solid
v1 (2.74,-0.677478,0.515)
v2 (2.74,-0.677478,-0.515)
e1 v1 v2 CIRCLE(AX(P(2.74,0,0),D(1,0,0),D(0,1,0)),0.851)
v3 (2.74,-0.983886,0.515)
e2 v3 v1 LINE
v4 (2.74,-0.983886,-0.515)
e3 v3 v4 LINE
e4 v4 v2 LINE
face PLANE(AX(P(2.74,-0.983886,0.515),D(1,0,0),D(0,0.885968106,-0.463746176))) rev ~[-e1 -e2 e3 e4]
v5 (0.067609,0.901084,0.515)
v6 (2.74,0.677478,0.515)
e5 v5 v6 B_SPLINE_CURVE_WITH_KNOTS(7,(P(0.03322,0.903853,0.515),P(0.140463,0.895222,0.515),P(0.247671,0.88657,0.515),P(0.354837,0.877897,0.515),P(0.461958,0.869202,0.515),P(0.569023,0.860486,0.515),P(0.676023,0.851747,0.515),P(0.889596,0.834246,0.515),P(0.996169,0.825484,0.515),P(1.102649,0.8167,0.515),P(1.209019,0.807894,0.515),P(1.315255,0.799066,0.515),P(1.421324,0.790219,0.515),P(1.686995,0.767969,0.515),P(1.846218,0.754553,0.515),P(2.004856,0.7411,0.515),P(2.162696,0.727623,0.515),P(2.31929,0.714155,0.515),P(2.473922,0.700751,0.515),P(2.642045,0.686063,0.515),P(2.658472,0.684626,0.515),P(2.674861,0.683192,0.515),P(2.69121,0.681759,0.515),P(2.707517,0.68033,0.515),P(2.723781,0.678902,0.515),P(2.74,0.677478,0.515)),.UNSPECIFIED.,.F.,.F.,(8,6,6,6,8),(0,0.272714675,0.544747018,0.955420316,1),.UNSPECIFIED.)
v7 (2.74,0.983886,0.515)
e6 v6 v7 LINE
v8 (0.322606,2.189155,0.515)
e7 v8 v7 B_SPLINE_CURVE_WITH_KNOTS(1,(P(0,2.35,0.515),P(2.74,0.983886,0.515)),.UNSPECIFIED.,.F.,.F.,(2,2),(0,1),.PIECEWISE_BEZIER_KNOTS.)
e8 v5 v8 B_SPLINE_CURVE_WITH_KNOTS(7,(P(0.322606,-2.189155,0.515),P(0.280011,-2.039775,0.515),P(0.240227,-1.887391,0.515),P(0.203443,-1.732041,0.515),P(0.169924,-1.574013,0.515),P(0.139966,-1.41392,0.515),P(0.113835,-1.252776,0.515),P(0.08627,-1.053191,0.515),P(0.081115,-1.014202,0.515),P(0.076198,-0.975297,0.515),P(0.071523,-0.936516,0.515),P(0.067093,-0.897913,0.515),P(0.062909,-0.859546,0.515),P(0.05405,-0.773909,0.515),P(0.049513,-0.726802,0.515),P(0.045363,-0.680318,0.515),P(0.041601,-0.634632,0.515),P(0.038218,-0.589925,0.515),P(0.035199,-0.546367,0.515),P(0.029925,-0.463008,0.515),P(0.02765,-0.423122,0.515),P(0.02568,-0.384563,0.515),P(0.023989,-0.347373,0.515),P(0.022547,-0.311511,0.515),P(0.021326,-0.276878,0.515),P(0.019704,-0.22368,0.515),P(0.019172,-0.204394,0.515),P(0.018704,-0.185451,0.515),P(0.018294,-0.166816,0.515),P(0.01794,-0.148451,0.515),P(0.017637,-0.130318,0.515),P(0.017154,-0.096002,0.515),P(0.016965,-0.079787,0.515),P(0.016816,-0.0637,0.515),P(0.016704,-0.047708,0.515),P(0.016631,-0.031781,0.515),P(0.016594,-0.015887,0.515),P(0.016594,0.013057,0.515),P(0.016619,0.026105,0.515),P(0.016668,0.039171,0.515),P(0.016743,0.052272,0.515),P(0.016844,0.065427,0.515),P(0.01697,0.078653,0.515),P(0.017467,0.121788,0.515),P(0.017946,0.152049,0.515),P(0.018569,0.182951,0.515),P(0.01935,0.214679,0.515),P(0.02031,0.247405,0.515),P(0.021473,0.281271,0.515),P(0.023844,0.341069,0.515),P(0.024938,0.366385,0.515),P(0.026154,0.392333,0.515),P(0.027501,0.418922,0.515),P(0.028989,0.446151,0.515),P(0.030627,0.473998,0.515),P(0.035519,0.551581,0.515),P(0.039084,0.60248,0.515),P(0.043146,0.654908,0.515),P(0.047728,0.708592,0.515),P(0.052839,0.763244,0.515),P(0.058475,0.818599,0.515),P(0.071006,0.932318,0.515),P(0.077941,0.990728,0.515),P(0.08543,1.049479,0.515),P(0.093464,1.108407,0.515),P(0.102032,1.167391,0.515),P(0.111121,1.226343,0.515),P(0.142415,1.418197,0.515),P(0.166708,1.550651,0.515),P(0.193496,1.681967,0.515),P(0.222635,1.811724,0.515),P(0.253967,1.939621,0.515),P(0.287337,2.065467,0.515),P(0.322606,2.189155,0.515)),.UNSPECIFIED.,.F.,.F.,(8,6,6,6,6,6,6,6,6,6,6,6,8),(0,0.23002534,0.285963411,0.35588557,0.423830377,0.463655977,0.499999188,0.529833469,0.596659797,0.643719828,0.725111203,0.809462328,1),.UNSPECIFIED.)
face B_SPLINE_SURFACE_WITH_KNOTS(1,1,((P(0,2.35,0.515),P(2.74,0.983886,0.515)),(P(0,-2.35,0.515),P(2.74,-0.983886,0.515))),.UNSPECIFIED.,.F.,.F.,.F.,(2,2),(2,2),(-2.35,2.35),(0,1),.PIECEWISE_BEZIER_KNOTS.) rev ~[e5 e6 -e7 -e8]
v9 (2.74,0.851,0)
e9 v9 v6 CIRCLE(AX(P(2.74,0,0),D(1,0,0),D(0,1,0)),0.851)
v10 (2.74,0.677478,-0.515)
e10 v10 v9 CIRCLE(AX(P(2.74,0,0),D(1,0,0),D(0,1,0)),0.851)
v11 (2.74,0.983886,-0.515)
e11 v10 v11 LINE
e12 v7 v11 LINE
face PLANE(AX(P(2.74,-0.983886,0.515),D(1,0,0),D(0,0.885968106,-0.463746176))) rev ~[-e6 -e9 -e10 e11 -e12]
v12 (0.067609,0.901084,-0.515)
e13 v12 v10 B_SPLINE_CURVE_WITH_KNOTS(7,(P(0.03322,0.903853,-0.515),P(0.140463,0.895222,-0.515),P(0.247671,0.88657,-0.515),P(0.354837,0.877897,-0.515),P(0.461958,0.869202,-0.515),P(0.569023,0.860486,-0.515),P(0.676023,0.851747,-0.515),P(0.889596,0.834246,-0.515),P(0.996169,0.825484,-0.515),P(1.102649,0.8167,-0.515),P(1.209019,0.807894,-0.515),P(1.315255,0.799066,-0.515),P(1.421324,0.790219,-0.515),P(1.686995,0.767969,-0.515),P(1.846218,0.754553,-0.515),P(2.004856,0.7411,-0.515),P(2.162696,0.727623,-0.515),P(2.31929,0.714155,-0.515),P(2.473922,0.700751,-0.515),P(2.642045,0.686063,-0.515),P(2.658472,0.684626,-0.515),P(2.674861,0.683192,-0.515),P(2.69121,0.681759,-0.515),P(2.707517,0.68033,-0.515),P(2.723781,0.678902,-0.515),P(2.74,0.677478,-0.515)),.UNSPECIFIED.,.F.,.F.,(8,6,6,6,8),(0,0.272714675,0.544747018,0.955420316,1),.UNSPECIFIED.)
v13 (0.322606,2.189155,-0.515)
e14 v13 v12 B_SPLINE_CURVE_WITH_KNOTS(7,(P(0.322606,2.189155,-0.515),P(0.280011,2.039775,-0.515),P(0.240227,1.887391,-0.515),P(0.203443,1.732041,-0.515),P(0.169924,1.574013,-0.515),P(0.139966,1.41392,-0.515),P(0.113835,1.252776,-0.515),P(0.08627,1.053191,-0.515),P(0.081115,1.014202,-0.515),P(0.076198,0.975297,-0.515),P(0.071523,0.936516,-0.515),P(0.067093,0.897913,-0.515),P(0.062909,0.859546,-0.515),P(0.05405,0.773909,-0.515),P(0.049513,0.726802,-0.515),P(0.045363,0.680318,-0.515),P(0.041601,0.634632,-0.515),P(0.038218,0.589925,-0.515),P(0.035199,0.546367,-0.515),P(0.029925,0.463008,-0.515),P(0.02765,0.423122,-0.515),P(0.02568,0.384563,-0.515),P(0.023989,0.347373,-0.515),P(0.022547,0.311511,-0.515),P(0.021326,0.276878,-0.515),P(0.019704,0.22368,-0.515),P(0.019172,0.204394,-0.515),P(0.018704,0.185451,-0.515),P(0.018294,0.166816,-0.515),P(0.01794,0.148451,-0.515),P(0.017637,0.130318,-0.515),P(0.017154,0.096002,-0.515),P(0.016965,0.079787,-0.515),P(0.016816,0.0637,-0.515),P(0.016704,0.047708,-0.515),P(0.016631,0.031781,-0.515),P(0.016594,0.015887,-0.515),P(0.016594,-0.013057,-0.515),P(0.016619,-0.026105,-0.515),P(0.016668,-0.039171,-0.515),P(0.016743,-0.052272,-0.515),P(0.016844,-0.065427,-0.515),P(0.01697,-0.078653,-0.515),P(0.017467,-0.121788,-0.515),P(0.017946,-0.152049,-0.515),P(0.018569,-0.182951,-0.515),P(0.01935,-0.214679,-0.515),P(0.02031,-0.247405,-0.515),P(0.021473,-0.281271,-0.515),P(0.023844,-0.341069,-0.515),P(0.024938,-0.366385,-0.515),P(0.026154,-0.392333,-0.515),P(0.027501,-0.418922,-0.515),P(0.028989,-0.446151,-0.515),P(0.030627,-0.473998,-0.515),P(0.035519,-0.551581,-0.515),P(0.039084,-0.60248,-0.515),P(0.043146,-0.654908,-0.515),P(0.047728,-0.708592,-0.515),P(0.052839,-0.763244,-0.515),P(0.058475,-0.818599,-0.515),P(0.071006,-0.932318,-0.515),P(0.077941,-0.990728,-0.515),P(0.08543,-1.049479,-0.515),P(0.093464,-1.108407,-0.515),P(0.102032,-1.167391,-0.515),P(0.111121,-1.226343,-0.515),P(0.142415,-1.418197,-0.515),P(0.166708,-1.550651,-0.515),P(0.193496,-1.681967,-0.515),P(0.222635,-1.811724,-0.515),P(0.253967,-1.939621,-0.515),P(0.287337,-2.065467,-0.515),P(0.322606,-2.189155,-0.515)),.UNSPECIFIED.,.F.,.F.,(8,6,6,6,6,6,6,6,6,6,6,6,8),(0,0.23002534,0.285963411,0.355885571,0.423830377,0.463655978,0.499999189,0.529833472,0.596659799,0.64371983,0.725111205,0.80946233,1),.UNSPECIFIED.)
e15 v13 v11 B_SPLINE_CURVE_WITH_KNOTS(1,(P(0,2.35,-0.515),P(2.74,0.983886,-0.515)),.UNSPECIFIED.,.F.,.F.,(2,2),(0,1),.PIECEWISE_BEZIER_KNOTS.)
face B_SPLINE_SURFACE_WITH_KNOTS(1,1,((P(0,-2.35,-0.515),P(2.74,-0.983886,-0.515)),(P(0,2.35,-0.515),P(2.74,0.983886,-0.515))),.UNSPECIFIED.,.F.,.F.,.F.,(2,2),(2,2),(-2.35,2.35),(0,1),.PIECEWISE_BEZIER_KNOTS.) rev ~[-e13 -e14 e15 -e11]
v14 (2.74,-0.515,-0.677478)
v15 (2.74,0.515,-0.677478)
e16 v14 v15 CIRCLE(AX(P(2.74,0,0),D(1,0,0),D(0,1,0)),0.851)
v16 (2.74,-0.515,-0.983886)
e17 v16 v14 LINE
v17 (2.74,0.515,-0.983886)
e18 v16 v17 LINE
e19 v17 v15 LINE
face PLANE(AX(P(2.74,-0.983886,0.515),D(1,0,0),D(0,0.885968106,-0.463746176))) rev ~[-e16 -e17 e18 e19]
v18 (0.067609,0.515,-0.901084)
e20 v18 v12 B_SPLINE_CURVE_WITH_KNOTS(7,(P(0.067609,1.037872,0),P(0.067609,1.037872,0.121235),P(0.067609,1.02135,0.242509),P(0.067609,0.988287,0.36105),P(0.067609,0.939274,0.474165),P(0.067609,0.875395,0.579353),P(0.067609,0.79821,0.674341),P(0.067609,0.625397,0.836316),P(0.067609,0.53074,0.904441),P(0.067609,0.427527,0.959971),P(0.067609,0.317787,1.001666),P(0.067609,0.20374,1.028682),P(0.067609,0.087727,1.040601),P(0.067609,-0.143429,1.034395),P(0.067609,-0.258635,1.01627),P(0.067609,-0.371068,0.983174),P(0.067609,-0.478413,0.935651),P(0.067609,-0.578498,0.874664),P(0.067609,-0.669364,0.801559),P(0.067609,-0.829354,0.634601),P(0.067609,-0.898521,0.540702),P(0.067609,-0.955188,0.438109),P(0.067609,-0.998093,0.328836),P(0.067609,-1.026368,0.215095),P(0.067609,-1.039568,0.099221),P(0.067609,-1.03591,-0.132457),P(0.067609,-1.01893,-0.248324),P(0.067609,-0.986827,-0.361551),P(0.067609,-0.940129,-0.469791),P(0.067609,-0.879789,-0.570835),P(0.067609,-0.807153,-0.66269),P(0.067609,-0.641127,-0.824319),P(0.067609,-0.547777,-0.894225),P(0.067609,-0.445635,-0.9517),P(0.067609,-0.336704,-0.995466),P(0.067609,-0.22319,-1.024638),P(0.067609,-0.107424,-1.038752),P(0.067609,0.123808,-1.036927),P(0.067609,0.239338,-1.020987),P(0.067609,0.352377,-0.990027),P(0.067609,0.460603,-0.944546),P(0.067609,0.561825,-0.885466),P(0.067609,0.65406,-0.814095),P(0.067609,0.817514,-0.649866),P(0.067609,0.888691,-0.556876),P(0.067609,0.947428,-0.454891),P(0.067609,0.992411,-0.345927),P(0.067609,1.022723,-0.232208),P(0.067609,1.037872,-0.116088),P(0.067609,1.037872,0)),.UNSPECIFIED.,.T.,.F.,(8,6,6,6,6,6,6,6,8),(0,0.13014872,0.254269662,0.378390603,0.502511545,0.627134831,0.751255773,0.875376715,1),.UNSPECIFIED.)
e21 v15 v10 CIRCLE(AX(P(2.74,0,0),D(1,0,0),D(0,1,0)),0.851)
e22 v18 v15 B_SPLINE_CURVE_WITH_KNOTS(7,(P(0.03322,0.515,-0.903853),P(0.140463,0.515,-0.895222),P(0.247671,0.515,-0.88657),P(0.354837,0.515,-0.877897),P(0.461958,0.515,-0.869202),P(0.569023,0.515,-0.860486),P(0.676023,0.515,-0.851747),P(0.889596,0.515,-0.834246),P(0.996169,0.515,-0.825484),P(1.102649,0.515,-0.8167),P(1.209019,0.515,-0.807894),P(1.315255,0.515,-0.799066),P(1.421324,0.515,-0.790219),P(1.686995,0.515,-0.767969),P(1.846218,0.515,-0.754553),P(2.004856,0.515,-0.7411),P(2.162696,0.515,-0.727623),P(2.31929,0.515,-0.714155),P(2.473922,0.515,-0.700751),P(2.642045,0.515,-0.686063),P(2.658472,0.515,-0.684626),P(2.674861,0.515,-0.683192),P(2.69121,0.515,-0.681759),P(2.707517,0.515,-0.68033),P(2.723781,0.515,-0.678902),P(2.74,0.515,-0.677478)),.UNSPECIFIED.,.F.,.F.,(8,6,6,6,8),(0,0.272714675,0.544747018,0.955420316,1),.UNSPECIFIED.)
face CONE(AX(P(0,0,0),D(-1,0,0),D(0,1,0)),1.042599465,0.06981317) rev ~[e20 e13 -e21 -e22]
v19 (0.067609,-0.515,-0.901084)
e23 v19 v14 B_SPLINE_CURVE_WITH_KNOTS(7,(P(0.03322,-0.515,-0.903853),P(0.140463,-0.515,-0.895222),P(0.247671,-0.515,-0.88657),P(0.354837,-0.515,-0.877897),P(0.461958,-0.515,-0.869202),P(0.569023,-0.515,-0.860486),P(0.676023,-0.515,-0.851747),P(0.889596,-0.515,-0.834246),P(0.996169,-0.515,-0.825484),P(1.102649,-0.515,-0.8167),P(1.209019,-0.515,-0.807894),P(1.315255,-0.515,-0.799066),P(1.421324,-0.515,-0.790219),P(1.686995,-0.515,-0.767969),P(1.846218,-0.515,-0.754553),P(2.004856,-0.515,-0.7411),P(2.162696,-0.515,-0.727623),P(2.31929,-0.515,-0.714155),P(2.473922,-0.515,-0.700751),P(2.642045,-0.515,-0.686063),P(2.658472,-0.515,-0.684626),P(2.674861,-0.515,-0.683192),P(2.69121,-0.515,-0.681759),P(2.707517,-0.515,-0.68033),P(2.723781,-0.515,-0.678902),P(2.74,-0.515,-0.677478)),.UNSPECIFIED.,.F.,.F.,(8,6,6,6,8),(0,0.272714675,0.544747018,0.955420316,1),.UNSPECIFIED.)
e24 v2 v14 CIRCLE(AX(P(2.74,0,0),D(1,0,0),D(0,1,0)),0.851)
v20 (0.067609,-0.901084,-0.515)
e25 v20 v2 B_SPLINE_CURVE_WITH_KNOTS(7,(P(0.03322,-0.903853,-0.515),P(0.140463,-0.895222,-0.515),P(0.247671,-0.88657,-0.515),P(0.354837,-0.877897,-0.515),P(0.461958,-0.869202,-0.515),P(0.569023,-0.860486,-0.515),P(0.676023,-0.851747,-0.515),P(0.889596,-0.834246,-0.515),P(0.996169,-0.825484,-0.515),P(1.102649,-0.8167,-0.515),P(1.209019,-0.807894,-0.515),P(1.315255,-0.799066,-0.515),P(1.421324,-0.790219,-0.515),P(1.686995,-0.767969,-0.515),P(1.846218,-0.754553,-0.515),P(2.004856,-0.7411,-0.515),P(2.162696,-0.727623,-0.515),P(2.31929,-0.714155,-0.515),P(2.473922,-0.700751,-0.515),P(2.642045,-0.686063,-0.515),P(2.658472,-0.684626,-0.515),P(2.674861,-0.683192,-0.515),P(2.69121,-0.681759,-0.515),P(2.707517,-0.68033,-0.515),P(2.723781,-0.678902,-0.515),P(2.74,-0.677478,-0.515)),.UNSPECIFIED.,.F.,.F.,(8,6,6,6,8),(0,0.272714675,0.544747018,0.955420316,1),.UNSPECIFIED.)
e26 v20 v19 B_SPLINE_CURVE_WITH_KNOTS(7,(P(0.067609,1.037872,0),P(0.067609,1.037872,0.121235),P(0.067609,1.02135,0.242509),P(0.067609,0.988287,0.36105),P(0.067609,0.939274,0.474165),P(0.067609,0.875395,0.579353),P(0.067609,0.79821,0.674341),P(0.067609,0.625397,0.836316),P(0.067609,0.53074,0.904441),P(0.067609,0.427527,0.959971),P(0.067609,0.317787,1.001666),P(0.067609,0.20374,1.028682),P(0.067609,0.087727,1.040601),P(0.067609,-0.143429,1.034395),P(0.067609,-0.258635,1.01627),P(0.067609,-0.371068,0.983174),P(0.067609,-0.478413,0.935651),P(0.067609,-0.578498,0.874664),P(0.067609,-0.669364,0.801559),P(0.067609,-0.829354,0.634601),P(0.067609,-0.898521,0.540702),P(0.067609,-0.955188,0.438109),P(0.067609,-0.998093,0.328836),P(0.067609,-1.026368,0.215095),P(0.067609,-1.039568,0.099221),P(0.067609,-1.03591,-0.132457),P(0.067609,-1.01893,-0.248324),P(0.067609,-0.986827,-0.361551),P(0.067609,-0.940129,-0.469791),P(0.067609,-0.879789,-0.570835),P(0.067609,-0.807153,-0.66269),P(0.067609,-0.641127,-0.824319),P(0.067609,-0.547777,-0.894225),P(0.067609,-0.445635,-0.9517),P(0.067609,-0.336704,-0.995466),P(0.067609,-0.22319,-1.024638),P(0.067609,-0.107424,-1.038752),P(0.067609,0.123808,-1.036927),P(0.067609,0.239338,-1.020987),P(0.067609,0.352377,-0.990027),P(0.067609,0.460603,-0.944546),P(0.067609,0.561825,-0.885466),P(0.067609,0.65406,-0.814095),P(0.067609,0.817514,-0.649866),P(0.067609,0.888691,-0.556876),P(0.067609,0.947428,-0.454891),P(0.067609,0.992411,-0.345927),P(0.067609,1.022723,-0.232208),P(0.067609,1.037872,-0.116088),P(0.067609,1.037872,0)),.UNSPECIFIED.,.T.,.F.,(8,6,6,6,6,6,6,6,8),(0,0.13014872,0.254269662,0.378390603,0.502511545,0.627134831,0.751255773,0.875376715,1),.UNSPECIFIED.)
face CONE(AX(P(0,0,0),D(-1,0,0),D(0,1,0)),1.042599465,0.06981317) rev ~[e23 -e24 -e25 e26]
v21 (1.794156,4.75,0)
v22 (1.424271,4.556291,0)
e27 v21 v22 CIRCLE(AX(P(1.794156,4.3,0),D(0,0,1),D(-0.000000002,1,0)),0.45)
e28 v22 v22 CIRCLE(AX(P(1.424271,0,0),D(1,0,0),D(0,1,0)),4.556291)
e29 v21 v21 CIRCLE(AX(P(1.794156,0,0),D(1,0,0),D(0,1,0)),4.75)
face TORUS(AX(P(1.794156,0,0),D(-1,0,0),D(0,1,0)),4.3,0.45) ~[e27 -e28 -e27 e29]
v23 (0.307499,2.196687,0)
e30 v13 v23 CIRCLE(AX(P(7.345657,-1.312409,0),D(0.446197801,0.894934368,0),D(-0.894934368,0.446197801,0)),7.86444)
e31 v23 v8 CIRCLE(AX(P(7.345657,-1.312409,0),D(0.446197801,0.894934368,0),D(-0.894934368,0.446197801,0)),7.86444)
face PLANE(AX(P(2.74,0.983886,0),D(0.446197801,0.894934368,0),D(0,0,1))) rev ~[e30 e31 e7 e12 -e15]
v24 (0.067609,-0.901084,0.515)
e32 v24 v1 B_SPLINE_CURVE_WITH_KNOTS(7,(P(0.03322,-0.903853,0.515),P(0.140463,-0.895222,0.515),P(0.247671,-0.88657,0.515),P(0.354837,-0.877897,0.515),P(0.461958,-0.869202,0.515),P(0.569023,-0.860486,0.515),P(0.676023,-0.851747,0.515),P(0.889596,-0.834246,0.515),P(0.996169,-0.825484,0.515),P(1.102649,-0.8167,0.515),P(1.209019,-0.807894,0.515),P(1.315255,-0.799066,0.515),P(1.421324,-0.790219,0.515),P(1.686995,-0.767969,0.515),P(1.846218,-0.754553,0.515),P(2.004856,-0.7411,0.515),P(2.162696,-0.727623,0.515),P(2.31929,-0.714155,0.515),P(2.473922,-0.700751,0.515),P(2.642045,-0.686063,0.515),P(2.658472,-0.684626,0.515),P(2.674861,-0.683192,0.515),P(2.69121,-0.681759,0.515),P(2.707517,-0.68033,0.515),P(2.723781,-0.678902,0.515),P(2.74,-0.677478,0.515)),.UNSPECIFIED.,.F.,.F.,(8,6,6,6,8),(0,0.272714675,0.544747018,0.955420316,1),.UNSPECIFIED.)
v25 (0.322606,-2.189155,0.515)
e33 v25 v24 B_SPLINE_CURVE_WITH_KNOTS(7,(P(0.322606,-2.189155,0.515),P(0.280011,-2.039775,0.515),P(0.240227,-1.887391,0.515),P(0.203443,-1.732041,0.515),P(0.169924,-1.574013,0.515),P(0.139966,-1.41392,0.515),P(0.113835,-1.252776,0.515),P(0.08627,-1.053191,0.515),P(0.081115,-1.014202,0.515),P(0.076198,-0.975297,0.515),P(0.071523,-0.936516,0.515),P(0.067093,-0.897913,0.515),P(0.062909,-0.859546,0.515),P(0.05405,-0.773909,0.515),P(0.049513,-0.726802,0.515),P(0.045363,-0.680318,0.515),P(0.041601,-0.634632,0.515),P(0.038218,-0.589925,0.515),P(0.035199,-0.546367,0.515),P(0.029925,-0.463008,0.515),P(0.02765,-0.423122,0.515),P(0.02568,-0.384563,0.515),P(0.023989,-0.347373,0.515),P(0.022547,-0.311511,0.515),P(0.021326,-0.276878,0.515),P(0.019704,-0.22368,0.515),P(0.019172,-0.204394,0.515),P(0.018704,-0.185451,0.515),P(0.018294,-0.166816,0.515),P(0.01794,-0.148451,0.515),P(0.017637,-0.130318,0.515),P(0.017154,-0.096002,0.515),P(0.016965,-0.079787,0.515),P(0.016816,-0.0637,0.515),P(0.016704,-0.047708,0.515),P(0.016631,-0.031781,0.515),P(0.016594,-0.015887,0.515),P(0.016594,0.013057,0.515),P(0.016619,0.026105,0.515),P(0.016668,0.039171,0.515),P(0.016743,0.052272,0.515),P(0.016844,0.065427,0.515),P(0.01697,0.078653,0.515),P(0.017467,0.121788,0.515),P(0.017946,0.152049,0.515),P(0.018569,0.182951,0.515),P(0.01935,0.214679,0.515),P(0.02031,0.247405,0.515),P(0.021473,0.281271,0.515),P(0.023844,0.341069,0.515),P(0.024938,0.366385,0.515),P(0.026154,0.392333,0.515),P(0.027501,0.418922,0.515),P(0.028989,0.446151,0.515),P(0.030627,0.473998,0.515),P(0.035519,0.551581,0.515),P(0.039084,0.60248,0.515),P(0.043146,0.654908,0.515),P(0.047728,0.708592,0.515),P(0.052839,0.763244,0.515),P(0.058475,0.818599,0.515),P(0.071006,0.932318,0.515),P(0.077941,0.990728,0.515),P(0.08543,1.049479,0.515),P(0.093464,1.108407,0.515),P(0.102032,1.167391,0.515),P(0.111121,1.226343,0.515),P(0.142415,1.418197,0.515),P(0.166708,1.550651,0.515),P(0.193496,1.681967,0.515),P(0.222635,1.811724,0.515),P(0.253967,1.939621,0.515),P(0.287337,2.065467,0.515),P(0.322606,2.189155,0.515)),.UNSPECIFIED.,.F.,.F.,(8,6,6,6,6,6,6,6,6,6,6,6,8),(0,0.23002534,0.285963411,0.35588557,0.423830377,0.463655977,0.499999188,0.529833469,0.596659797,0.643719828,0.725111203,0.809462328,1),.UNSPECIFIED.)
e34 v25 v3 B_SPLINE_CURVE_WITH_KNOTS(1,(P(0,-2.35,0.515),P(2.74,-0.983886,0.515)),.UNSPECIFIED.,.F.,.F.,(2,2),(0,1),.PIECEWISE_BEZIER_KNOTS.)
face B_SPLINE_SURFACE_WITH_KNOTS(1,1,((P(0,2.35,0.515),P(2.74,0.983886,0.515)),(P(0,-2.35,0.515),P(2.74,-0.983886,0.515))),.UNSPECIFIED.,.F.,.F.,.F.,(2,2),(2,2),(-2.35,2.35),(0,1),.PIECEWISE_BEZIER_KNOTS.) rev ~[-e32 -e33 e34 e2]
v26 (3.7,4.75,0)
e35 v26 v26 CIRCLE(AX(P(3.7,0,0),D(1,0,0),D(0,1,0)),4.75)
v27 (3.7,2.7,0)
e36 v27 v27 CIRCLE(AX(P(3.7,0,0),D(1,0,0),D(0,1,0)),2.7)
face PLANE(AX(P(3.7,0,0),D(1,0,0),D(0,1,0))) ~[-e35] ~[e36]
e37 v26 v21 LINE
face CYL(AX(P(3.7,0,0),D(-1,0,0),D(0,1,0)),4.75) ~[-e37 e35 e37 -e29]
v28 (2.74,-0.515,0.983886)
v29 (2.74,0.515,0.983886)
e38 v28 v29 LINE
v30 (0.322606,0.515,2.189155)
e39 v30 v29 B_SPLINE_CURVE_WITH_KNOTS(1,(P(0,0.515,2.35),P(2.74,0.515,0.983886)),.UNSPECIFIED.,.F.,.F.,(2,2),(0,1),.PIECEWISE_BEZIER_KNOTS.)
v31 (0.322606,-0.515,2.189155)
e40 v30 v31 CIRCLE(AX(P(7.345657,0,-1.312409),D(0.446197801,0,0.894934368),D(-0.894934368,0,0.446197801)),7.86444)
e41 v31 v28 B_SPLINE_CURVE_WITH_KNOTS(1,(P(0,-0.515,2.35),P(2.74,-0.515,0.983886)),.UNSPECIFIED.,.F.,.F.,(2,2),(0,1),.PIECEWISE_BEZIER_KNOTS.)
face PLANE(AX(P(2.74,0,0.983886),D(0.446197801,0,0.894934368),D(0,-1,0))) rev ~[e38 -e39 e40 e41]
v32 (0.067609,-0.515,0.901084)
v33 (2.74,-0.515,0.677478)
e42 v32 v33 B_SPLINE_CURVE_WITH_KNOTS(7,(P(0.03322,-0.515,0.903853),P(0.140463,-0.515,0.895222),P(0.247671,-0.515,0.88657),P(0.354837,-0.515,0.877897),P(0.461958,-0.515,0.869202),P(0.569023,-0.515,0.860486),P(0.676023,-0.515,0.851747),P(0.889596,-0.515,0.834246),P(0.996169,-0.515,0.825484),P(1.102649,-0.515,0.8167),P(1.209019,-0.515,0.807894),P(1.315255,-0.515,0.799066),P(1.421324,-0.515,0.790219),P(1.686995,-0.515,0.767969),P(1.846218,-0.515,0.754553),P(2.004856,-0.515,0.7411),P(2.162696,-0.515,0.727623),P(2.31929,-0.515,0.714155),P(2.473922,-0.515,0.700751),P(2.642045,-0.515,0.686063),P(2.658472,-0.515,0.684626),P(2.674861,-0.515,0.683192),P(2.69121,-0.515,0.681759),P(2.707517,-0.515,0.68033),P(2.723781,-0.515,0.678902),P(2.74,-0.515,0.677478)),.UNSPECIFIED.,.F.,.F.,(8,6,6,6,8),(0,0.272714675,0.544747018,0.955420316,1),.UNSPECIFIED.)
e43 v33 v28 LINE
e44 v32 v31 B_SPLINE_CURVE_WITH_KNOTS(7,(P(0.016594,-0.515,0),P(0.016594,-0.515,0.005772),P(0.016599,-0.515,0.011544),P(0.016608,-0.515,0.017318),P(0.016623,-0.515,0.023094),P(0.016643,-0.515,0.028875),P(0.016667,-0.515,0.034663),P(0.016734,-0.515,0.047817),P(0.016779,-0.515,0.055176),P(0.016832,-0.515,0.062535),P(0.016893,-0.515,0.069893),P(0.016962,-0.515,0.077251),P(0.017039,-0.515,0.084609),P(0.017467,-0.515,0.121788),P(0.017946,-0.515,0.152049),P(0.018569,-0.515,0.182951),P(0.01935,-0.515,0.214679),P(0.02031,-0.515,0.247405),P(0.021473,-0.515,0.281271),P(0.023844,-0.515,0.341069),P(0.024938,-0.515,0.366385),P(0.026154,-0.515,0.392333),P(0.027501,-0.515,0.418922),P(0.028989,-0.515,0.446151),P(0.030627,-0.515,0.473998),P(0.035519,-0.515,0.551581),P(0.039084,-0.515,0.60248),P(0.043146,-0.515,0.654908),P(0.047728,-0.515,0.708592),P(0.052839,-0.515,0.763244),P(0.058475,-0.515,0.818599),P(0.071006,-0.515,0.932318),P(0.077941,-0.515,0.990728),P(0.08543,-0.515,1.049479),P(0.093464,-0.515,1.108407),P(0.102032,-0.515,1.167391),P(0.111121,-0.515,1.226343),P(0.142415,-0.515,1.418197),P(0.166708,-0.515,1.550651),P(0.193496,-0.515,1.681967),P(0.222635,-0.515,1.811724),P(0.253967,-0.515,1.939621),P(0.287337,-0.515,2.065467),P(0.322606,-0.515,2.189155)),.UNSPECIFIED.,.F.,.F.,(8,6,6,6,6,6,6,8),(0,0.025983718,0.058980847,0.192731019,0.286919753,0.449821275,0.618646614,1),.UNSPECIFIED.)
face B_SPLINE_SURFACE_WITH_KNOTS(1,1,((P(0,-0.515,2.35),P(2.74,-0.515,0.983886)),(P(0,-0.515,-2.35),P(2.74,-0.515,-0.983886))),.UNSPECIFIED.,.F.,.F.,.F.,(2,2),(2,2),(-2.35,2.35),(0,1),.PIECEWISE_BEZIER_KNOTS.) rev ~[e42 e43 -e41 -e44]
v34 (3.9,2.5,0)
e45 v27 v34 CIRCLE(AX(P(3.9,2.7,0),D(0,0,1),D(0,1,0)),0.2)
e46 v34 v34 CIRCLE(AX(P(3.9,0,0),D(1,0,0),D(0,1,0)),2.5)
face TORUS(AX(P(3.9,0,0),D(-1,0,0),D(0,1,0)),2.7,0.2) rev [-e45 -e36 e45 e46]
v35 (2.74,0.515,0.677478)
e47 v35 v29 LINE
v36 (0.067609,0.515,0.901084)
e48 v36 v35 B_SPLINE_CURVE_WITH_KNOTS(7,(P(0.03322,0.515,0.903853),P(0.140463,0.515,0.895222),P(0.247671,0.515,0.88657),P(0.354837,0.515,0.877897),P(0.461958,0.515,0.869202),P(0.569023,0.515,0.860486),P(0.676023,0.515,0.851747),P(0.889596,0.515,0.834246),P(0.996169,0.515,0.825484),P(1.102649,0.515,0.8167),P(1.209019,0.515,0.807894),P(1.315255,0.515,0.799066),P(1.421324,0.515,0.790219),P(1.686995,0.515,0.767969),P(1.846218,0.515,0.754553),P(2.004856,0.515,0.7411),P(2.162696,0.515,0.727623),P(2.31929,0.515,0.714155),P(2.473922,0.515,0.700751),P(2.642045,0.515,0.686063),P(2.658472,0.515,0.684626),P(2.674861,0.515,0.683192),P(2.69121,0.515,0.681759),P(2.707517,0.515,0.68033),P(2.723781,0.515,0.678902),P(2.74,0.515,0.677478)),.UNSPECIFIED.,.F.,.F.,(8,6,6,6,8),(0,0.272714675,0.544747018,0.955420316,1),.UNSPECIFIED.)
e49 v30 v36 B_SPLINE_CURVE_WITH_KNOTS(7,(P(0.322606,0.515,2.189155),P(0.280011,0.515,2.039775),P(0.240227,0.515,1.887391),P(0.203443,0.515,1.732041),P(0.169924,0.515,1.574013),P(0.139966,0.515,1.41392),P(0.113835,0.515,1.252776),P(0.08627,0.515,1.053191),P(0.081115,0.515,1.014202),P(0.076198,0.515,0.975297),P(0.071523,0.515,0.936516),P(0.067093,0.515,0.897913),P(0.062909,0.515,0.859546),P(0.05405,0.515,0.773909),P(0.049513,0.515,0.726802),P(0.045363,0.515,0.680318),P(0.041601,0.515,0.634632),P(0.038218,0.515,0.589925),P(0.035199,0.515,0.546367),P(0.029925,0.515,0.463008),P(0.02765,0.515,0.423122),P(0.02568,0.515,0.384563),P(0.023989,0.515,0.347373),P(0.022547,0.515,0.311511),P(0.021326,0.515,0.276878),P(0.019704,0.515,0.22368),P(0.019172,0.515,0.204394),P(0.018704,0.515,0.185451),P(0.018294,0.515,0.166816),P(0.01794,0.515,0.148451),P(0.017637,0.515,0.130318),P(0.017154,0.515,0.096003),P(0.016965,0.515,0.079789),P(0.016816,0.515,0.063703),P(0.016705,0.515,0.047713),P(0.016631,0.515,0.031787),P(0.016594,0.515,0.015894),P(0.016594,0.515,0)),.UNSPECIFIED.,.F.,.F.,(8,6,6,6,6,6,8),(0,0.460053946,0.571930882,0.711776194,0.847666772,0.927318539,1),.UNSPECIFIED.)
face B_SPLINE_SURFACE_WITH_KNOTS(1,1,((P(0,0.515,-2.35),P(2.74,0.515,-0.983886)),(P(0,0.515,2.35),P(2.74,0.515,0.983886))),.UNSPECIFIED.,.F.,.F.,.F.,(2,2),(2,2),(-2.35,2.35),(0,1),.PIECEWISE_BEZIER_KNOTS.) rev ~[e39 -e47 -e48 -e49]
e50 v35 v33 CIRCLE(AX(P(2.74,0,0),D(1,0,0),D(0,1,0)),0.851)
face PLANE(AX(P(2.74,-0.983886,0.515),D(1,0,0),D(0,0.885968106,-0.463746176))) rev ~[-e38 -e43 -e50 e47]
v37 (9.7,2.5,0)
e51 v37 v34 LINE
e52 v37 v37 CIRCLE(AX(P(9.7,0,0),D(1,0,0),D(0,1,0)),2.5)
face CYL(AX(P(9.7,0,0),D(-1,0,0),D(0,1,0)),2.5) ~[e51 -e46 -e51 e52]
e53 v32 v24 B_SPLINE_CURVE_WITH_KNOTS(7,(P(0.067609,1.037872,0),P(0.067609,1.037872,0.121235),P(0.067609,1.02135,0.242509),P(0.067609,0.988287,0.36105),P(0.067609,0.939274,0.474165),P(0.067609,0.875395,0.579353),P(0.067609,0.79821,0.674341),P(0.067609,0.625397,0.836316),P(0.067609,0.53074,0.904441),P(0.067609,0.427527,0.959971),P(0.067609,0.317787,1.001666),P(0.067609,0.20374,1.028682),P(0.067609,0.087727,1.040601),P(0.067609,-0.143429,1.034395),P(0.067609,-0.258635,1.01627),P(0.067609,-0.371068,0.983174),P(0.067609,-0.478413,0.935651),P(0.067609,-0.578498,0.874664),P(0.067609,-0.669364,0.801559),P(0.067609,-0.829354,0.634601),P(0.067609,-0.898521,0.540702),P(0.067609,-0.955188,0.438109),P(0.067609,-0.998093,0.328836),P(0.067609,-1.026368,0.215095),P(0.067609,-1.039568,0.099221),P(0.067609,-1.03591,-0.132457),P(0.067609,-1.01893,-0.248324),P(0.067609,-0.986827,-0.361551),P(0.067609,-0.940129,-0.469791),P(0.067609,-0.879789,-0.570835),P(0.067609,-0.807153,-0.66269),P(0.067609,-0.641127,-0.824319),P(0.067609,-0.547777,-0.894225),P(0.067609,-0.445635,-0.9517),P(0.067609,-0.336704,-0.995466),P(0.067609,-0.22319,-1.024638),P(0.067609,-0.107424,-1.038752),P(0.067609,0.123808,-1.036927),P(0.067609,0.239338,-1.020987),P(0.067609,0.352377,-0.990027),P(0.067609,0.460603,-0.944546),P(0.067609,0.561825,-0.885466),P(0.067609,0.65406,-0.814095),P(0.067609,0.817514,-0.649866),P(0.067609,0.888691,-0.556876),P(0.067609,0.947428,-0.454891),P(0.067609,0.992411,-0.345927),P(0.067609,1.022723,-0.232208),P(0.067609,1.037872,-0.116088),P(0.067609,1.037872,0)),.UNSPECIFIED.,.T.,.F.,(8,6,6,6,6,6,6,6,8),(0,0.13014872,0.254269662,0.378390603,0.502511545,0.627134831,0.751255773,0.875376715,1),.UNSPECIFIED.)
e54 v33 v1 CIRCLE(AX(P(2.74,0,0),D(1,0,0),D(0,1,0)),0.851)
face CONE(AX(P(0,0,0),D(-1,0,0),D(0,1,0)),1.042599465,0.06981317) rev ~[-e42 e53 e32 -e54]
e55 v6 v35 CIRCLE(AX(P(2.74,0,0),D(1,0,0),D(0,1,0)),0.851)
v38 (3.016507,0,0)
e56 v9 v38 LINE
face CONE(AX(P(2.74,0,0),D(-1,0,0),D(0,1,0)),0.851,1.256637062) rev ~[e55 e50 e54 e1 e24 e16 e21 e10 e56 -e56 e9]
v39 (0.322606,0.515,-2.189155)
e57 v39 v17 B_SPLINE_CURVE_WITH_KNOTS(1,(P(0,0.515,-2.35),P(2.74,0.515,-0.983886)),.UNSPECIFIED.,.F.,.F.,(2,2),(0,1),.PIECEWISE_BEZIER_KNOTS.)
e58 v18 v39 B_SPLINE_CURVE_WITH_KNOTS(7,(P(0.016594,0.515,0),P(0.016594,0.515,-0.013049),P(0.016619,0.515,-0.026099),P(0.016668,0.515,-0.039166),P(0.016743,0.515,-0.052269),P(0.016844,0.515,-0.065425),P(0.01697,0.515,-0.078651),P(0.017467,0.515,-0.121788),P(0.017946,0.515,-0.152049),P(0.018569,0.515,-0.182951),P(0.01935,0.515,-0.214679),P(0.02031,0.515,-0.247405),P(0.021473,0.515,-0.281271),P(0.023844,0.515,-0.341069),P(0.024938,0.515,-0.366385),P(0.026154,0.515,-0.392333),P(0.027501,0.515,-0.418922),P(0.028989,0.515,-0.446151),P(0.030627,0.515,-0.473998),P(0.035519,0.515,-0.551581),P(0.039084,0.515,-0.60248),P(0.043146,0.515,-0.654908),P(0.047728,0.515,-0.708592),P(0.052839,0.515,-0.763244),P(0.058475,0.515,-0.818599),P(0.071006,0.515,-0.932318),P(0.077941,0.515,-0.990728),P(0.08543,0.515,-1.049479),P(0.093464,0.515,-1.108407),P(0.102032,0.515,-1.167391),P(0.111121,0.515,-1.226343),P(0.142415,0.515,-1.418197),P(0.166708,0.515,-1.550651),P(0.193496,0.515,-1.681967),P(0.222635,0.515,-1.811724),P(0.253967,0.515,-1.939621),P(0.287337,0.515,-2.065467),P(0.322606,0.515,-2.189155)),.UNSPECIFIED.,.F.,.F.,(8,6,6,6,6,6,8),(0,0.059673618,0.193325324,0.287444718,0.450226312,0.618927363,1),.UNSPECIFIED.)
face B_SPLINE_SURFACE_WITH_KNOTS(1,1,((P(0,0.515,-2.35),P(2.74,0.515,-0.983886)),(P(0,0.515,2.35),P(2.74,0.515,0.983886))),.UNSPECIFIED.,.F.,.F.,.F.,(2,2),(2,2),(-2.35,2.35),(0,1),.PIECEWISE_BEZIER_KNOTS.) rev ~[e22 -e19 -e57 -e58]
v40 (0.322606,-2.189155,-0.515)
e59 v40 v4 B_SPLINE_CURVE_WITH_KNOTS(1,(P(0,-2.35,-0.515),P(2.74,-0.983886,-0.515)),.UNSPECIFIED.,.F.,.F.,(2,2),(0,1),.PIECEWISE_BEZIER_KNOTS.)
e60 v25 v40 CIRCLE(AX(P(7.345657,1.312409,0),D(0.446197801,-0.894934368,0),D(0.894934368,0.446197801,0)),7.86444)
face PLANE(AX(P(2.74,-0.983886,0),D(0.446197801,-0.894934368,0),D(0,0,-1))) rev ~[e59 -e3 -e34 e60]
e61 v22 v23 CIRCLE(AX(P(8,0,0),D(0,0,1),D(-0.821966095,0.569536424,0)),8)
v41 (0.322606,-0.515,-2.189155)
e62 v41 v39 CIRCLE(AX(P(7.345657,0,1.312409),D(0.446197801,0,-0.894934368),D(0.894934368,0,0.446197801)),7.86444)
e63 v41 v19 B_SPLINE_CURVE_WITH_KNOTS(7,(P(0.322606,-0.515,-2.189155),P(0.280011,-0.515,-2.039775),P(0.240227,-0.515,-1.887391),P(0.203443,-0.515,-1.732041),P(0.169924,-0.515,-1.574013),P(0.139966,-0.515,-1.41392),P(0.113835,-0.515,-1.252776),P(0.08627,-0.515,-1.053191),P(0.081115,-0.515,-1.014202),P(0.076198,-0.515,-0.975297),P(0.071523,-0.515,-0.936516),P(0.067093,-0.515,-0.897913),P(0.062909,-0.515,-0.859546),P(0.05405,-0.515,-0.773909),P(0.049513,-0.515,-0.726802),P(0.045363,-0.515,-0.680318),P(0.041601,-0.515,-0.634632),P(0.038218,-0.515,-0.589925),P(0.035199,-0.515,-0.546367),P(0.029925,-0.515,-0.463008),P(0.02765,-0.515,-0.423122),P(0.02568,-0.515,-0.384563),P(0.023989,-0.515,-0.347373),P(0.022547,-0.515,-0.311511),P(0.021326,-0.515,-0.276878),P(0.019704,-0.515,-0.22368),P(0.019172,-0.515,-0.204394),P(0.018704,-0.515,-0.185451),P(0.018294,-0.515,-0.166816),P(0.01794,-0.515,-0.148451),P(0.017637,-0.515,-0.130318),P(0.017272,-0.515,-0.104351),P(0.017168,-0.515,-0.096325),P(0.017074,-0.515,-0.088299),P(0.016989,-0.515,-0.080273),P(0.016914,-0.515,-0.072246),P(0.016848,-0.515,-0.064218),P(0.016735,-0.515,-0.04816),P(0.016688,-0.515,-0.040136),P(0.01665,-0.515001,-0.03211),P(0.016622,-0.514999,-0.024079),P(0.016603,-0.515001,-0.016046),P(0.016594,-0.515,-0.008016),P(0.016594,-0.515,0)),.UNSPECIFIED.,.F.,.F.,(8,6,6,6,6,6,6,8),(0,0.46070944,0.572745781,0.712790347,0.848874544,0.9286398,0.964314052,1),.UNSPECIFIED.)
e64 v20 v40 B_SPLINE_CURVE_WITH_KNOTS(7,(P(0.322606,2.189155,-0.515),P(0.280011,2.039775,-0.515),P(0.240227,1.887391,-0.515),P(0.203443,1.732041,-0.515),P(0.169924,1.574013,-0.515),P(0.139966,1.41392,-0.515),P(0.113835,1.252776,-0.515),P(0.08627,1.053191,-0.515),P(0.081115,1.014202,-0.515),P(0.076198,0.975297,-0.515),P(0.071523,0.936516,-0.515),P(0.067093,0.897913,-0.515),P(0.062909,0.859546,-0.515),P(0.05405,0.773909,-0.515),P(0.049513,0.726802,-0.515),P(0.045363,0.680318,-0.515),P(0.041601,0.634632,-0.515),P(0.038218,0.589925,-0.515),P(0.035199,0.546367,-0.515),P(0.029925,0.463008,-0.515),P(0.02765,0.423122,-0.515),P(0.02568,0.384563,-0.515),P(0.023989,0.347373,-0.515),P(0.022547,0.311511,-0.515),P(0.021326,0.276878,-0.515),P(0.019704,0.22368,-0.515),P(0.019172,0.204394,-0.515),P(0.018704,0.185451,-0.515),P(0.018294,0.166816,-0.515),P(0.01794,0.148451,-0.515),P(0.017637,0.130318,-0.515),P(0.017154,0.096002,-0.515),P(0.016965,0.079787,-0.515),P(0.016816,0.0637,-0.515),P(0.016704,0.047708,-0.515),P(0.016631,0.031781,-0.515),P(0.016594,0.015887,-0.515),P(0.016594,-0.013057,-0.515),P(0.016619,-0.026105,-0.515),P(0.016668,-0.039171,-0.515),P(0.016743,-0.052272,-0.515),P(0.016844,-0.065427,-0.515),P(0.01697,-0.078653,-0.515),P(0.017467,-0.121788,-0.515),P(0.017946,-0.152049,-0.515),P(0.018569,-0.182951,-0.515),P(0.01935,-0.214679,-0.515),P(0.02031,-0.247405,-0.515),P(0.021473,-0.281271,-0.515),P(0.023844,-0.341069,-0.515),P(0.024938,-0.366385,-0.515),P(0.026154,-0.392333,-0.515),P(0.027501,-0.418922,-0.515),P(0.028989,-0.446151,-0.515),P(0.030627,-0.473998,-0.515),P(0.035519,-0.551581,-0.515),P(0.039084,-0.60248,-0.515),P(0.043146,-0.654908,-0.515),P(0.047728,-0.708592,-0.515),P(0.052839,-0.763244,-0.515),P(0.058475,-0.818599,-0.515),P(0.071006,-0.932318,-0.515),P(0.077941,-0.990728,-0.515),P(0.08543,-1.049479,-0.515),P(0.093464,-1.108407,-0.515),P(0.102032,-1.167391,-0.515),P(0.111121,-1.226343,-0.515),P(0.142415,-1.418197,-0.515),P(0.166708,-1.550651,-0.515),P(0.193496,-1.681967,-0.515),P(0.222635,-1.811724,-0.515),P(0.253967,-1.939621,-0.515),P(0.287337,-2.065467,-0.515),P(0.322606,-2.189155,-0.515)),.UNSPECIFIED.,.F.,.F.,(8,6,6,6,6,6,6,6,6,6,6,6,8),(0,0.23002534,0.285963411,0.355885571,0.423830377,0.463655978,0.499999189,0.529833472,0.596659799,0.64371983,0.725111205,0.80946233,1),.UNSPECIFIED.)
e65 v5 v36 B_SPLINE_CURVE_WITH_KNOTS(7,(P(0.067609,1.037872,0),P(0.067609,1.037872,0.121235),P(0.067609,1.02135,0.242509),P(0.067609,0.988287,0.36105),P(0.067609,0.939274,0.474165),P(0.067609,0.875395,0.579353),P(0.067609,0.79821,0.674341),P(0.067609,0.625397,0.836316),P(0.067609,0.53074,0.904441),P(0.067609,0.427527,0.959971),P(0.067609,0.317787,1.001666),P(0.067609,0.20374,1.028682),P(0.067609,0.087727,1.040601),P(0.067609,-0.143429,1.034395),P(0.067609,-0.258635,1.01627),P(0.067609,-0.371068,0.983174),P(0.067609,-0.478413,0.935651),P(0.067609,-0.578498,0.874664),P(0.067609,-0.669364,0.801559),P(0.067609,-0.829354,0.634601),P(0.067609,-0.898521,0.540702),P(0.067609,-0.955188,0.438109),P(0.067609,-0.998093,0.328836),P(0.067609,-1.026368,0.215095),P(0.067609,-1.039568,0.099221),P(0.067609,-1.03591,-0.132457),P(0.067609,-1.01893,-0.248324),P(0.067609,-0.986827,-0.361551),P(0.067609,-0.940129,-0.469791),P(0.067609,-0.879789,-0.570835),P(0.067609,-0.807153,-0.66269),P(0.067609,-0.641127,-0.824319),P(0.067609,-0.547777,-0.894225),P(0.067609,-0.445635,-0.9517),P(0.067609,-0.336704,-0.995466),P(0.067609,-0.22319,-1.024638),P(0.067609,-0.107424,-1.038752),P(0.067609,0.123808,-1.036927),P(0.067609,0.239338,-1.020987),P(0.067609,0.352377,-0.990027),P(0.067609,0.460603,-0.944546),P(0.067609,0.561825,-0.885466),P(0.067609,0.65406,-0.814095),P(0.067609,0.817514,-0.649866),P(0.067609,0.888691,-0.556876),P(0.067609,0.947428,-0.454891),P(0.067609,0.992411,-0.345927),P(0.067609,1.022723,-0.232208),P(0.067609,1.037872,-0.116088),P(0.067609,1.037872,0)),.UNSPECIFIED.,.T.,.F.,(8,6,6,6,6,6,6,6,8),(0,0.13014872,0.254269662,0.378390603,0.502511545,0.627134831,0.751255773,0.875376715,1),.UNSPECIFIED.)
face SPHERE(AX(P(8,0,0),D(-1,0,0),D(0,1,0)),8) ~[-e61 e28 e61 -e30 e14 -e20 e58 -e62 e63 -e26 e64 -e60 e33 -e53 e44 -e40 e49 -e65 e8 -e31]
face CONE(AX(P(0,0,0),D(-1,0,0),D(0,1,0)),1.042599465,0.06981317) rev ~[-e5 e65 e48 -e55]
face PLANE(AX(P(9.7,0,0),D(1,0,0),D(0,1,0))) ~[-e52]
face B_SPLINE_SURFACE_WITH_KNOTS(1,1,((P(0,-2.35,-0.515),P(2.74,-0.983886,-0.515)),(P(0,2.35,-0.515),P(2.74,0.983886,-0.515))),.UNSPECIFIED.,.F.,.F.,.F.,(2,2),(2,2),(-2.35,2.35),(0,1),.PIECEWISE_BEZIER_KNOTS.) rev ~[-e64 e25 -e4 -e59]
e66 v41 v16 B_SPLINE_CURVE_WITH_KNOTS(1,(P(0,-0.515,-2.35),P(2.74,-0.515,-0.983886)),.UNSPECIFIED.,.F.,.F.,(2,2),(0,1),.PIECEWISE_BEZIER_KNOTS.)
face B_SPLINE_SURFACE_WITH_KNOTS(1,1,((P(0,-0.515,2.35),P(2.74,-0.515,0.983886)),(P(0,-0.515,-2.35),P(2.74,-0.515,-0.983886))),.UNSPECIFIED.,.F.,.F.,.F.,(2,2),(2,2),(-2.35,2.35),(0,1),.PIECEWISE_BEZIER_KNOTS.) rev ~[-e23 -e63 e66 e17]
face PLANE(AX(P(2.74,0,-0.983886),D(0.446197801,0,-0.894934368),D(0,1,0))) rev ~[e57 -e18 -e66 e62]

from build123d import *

# Parameters (mm, degrees)
FILLET1_R    = 0.2
SKETCH3_W    = 1.03
SKETCH3_H    = 4.7
SKETCH4_W    = 1.03
SKETCH4_H    = 1.967772882
RECPAT_COUNT = 2
RECPAT_ANGLE = 90


with BuildPart() as part:
    # BodySke → Base-Revolve (revolve)
    with BuildSketch(Plane.XY):
        with BuildLine():
            Line((3.7, 2.5), (3.7, 4.75))
            Line((3.7, 4.75), (1.79415598, 4.75))
            ThreePointArc((1.79415598, 4.75), (1.58538712, 4.698642149), (1.424271237, 4.556291391))
            ThreePointArc((1.424271237, 4.556291391), (0.364365445, 2.386856709), (0, 0))
            Line((0, 0), (9.7, 0))
            Line((9.7, 0), (9.7, 2.5))
            Line((9.7, 2.5), (3.7, 2.5))
        make_face()
    revolve(axis=Axis((-25.4, 0, 0), (1, 0, 0)))

    # Fillet1
    fillet1_edges = [part.edges().sort_by_distance(p)[0] for p in [
        (3.7, -2.5, 0),
    ]]
    fillet(fillet1_edges, radius=FILLET1_R)

    # Sketch3 → Recess section 0
    with BuildSketch(Plane(origin=(0, 0, 0), x_dir=(0, 0, -1), z_dir=(1, 0, 0))):
        Rectangle(SKETCH3_W, SKETCH3_H)
    # Sketch4 → Recess section 1
    with BuildSketch(Plane(origin=(2.74, 0, 0), x_dir=(0, 0, -1), z_dir=(1, 0, 0))):
        Rectangle(SKETCH4_W, SKETCH4_H)
    recess = loft(mode=Mode.SUBTRACT)

    # RecPat: Recess ×2 about axis
    recpat_axis = Axis((0, 0, 0), (1, 0, 0))
    for i in range(1, RECPAT_COUNT):
        add(recess.rotate(recpat_axis, i * RECPAT_ANGLE / (RECPAT_COUNT - 1)), mode=Mode.SUBTRACT)

    # RecCorSke → RecessCore (revolve, cut)
    with BuildSketch(Plane.XY):
        Polygon((0, 0), (0, 1.042599465), (2.74, 0.851), (3.016506661, 0), align=None)
    revolve(axis=Axis((-3.175, 0, 0), (1, 0, 0)), mode=Mode.SUBTRACT)


solid = part.part
